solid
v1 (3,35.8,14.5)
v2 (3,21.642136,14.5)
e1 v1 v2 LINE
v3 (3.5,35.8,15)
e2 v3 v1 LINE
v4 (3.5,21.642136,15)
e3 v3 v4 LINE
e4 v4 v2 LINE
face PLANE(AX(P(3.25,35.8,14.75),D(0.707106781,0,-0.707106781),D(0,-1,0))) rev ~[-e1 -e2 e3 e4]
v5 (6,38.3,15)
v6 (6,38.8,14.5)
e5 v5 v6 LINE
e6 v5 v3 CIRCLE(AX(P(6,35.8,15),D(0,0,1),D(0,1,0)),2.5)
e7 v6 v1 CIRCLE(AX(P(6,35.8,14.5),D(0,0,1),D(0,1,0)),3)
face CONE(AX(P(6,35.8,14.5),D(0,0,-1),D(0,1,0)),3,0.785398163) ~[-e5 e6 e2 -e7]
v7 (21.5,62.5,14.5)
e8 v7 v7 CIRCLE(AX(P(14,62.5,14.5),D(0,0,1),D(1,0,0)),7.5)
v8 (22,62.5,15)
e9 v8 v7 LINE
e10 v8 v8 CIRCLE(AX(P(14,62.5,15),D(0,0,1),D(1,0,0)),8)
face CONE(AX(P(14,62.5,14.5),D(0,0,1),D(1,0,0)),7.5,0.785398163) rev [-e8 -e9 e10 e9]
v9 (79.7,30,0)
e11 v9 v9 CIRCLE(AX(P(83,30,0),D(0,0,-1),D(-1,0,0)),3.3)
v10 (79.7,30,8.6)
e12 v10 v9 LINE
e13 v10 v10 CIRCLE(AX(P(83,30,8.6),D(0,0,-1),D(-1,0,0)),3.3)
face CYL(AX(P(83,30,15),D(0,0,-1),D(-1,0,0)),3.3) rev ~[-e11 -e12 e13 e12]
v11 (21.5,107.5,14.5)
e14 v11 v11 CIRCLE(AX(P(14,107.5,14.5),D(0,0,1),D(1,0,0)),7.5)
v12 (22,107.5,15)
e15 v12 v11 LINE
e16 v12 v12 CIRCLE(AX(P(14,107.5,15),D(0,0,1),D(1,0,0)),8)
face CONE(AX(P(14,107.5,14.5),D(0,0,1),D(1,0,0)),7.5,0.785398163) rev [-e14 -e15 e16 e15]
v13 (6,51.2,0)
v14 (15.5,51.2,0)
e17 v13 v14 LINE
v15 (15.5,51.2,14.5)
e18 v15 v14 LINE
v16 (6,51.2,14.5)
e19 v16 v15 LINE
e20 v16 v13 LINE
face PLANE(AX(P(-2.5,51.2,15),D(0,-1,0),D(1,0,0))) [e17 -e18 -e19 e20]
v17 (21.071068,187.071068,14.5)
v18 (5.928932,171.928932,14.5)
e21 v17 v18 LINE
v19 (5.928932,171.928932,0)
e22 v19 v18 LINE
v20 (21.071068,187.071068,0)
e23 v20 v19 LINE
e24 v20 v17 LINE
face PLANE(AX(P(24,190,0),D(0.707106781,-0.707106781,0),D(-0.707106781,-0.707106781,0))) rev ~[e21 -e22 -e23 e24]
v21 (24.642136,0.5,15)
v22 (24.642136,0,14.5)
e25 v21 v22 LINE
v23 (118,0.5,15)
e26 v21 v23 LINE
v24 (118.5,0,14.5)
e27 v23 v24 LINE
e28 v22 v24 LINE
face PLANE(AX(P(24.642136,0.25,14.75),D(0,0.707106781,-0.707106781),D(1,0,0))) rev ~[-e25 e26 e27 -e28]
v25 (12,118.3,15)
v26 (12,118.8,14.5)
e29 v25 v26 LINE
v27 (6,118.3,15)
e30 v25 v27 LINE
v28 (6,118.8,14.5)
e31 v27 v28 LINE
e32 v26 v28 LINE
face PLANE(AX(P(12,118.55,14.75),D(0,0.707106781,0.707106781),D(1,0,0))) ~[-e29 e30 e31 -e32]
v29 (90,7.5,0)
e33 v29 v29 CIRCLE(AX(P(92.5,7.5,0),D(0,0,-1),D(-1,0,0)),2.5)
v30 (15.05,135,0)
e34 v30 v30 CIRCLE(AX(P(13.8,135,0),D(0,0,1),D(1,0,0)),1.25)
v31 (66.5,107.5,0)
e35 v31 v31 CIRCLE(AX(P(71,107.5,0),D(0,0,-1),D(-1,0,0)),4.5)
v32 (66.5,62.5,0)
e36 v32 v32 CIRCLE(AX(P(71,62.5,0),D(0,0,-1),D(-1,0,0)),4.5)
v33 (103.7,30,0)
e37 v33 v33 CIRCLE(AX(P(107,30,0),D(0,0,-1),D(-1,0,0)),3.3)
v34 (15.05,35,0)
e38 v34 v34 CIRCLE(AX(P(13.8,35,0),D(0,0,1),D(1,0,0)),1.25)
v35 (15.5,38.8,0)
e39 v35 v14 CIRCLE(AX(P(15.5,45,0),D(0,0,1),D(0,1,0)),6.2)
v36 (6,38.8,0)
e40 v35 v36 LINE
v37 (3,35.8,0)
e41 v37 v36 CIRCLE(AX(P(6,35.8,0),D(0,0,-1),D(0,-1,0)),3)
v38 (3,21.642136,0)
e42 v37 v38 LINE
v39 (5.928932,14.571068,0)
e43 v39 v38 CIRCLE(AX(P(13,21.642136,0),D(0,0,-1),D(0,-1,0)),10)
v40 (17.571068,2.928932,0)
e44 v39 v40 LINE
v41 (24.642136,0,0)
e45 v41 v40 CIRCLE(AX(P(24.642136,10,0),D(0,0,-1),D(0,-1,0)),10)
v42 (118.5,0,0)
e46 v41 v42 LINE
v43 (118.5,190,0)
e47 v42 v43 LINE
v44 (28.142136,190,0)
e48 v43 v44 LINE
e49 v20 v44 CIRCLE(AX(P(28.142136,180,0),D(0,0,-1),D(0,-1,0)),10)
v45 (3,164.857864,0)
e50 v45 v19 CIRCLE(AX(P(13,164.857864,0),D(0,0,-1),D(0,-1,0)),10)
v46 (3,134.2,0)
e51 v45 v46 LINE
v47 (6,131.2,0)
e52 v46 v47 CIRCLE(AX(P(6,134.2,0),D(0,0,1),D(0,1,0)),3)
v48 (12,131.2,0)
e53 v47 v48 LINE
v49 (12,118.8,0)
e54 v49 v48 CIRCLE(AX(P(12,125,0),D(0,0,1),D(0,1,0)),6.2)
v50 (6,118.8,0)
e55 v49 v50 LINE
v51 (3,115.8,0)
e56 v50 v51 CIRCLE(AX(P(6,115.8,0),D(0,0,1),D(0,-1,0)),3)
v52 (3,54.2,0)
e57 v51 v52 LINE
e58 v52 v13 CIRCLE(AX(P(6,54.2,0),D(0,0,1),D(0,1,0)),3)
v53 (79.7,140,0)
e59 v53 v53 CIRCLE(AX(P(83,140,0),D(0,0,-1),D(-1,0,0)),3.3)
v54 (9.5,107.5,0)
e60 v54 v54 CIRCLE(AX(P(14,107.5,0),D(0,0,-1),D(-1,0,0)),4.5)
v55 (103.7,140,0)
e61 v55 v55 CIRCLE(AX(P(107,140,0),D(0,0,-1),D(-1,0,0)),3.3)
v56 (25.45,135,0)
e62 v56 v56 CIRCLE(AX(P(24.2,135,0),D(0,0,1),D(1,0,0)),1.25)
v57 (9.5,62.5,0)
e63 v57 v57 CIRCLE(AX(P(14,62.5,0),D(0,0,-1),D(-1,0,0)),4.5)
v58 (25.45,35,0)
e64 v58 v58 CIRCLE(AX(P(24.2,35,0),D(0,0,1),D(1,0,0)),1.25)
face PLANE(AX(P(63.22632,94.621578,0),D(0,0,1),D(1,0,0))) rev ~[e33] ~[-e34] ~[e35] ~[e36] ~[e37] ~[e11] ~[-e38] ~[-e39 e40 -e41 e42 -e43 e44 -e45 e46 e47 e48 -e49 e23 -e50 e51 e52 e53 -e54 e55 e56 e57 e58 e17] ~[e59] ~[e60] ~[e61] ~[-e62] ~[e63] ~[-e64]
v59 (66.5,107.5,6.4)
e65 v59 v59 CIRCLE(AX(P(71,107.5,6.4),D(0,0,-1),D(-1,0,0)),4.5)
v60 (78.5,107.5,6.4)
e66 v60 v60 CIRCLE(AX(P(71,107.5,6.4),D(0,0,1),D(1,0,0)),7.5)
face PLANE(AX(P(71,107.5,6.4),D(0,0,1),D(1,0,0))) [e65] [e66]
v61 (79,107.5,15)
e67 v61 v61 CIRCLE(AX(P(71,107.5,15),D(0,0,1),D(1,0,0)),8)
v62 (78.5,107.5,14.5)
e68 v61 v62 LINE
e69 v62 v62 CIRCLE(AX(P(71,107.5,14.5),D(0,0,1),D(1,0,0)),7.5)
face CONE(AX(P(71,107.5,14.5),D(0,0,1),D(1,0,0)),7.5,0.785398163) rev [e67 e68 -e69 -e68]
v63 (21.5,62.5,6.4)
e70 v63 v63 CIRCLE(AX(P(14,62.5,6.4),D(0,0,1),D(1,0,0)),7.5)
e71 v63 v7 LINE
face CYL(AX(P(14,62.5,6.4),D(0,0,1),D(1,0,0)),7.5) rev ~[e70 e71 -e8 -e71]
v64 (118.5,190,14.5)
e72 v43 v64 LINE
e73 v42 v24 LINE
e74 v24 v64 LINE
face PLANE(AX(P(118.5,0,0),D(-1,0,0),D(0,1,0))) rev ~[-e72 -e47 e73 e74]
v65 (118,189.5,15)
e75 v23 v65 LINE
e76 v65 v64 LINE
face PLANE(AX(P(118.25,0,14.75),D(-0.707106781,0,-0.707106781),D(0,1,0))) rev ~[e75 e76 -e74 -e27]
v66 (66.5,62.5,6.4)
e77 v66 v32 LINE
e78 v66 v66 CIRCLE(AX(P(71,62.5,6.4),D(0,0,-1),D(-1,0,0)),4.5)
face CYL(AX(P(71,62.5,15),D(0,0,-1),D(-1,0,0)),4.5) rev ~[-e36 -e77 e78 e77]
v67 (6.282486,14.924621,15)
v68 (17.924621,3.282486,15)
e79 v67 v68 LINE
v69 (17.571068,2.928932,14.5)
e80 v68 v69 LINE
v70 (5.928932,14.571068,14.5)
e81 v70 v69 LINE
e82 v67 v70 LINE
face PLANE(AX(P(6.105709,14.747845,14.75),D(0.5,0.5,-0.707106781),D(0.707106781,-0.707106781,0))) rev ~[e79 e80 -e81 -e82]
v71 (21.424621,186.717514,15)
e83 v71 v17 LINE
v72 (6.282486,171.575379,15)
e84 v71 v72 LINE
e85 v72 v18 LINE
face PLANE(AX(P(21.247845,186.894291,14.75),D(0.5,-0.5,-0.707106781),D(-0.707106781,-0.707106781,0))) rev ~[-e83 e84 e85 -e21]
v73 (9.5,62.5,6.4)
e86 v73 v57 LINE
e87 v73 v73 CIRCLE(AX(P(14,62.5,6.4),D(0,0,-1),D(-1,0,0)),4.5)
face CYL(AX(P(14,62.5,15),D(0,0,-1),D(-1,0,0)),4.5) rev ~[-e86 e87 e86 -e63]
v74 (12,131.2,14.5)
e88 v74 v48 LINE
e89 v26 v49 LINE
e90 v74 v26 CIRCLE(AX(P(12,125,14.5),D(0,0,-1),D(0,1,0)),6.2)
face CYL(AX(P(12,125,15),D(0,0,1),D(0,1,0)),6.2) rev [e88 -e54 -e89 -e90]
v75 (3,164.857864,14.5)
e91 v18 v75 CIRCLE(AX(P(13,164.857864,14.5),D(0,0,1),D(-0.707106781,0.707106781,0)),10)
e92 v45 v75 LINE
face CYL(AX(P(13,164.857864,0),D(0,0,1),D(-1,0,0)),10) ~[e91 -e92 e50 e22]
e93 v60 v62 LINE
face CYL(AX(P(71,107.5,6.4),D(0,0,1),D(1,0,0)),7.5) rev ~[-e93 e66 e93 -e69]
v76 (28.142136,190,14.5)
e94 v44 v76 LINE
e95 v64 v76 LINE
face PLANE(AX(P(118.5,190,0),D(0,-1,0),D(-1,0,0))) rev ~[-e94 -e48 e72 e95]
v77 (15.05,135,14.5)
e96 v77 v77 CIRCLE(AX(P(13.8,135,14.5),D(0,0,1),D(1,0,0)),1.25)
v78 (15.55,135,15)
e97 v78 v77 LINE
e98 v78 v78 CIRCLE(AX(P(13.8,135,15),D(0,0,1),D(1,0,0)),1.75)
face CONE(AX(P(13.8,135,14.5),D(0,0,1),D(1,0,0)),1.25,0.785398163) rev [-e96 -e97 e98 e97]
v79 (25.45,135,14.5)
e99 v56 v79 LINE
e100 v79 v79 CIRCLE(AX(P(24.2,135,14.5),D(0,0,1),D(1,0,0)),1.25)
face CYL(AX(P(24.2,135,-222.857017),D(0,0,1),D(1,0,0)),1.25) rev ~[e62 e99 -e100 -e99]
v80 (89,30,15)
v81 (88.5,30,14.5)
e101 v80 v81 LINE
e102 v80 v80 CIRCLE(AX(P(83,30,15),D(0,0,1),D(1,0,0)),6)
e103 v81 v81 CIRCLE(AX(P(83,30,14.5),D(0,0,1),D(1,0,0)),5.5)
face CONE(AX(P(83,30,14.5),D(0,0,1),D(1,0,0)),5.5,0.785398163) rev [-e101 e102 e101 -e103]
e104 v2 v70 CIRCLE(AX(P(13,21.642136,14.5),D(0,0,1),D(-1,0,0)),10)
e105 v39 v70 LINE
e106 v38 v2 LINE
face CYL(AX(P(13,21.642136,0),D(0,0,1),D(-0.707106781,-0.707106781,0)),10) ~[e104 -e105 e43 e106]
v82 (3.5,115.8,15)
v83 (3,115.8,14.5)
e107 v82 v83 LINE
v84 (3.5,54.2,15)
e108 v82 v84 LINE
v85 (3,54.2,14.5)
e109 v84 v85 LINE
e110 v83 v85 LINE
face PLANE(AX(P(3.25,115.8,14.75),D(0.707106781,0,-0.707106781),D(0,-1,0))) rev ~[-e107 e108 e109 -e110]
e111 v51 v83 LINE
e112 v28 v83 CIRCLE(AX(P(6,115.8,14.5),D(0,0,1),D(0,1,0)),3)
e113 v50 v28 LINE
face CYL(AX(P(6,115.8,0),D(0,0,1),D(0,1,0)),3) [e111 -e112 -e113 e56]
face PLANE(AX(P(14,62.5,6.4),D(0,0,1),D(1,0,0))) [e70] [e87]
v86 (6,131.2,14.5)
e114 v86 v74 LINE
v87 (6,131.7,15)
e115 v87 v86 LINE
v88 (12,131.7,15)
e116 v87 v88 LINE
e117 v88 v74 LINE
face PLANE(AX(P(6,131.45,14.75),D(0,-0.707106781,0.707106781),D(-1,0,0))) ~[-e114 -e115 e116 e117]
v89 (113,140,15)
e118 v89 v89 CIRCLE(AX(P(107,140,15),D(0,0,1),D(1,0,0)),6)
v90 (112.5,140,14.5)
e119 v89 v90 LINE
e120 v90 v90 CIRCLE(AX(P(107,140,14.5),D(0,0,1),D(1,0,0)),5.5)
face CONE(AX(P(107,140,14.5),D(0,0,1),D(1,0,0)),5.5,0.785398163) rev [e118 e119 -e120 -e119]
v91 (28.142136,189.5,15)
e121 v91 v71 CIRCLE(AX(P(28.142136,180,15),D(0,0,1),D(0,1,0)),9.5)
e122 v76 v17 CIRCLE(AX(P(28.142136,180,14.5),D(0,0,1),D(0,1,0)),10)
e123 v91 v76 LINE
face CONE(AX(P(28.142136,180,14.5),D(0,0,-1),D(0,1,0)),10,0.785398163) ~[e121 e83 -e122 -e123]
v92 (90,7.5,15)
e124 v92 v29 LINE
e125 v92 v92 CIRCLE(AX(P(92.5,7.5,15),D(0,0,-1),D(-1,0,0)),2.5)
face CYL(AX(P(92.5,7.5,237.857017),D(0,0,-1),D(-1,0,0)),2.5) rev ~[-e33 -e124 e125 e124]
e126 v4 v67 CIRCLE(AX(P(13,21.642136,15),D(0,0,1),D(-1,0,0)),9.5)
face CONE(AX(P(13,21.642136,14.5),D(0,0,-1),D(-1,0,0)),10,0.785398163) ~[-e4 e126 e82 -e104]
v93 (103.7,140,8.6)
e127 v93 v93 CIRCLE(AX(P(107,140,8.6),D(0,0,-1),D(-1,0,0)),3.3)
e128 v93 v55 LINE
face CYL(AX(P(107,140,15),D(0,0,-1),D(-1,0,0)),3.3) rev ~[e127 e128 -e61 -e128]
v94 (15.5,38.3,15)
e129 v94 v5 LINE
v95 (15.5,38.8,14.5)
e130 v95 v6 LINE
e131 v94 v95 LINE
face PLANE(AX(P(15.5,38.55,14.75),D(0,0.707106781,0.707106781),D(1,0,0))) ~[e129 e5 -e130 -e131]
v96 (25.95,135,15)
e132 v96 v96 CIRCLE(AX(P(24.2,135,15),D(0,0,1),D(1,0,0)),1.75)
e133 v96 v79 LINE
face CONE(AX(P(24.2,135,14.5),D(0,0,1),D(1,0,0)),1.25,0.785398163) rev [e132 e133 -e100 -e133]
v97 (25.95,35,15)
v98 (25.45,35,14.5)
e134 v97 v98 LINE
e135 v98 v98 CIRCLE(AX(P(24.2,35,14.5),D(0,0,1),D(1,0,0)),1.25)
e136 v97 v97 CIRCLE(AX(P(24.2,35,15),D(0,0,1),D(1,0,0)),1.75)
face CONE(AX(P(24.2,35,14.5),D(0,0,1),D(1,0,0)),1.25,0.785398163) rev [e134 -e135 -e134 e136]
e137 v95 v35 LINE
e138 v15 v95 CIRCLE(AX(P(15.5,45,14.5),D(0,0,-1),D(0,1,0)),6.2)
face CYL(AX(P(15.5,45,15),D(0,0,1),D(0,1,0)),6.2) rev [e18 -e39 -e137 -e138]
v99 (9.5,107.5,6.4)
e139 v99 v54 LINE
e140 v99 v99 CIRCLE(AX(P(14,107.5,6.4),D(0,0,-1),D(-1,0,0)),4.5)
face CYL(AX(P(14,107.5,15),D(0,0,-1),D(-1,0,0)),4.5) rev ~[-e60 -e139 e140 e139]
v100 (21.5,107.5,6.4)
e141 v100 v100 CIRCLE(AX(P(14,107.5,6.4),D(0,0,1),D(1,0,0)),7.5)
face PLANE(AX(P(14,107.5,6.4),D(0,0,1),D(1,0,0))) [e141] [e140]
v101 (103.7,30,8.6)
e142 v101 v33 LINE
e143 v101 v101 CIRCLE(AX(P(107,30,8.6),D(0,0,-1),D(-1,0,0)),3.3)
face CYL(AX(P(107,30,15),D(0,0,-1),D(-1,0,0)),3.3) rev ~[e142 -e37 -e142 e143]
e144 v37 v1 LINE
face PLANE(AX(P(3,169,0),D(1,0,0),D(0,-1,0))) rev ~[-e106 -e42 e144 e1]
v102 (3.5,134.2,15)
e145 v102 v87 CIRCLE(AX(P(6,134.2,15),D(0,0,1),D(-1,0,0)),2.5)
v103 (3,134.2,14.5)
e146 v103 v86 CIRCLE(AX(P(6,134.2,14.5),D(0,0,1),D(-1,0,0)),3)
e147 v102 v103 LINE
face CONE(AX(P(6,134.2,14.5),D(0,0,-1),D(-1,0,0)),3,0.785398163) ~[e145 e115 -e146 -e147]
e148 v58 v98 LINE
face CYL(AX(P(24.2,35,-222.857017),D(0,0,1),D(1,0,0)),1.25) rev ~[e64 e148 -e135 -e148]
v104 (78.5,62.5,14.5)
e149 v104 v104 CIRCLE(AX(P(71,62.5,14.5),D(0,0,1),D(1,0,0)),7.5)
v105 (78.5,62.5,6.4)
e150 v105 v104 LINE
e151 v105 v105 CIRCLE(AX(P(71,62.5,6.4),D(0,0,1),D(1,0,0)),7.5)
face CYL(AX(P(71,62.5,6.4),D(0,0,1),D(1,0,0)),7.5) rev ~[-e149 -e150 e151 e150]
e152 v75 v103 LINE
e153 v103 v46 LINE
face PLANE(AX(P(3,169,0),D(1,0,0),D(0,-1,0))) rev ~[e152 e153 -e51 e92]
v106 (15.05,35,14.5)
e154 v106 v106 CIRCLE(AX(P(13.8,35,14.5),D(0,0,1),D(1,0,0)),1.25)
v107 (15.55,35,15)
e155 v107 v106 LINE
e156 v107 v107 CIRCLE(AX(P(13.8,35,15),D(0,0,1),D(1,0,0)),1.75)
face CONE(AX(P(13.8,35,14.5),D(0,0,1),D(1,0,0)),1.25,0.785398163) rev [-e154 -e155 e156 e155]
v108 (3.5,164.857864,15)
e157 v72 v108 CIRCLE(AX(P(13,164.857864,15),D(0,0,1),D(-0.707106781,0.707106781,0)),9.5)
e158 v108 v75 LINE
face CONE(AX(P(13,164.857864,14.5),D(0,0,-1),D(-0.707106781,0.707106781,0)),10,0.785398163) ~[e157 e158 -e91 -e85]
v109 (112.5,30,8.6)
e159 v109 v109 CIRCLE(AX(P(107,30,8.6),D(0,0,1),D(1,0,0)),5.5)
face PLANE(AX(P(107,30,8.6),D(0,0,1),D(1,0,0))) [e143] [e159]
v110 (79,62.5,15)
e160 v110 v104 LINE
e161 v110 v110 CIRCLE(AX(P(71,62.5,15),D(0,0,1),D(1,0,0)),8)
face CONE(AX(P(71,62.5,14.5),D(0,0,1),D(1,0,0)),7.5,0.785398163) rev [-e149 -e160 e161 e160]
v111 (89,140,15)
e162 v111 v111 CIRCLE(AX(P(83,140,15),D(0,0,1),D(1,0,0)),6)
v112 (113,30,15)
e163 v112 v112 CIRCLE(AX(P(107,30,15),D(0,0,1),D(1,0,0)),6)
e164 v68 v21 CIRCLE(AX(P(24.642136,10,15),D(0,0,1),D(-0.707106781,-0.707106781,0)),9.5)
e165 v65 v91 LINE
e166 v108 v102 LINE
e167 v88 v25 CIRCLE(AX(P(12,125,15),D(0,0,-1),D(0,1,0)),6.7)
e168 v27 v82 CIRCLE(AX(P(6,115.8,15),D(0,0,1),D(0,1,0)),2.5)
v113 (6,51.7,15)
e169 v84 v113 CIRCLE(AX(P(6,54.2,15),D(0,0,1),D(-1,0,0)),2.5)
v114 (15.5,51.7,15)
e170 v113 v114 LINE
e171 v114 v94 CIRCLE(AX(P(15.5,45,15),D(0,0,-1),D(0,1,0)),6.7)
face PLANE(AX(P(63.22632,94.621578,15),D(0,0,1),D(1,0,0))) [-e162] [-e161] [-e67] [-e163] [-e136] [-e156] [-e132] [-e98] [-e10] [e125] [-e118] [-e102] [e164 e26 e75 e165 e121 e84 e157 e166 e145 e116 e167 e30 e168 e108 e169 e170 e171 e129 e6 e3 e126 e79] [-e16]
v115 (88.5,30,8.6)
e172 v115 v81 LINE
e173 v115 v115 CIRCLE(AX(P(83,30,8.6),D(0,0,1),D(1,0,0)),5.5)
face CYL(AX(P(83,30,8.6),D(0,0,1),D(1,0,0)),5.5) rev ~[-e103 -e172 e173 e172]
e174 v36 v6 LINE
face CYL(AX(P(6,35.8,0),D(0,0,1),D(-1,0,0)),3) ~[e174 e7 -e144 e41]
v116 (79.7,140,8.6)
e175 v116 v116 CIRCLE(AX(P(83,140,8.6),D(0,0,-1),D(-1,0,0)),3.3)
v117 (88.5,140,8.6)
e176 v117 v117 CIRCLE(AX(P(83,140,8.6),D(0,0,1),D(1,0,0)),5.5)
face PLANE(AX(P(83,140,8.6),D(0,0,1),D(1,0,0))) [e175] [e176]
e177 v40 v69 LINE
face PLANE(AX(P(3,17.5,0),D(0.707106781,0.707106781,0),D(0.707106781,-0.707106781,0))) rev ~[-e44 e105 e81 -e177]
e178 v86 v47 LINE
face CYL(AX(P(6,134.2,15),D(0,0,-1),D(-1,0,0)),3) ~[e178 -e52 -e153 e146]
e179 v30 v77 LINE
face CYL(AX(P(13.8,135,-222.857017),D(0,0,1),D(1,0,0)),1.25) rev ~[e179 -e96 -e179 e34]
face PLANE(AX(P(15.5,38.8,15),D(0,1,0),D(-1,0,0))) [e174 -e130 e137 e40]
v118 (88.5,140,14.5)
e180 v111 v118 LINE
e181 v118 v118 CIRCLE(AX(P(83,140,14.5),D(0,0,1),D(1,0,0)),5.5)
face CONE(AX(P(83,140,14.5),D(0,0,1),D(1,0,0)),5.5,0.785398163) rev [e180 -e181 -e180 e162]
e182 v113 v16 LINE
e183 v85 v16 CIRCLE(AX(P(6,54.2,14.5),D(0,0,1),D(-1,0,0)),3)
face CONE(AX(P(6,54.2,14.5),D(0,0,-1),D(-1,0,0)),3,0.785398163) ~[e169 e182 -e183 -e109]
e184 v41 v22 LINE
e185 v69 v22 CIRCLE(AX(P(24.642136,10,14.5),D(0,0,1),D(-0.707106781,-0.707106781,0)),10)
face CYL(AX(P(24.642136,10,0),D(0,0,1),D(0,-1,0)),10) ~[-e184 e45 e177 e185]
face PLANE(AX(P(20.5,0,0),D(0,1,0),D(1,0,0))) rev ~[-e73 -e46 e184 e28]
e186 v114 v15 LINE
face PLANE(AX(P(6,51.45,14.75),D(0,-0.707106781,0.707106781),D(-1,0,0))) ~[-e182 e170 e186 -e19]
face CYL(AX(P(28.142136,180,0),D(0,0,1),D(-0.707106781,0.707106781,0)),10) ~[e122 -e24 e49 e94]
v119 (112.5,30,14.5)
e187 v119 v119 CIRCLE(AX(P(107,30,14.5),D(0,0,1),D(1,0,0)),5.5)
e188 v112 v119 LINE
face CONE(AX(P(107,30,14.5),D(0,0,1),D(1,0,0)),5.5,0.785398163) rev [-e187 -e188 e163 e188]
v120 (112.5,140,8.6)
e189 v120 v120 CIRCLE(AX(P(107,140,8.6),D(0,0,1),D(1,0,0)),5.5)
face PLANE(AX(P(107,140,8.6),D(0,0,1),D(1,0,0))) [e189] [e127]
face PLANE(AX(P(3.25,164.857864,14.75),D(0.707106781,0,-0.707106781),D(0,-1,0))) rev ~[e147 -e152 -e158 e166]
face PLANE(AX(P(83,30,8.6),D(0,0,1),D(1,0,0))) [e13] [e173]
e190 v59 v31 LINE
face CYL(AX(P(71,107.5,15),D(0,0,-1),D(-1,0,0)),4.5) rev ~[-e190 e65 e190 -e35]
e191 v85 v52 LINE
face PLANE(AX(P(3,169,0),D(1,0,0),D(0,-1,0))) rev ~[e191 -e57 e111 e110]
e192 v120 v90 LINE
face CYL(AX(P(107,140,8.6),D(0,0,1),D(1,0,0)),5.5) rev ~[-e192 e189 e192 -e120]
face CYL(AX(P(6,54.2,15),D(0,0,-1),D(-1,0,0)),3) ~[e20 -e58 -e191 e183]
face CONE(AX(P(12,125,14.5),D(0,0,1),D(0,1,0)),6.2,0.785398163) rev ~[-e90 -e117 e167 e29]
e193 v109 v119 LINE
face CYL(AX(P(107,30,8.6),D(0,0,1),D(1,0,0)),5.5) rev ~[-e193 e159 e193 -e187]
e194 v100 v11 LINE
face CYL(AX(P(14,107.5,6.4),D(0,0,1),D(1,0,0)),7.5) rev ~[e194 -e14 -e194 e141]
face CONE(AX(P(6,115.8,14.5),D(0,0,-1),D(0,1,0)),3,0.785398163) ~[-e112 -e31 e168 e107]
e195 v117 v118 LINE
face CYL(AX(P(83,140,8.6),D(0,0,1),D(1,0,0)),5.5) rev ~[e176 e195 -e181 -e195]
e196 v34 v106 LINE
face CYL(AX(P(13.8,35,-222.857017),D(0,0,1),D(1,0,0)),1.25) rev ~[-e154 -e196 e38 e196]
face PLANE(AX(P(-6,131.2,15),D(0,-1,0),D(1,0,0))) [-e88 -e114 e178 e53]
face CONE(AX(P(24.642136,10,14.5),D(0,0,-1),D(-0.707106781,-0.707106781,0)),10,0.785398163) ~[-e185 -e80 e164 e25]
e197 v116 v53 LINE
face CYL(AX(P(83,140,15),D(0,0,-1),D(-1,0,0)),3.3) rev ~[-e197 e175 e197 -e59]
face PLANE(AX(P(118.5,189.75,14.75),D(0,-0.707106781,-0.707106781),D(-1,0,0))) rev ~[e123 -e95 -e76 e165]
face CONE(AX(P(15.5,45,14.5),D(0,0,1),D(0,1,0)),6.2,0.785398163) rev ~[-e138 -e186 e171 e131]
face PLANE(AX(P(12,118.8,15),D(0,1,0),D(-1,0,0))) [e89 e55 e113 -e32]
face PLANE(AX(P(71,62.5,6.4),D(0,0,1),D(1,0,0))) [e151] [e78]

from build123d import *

# Parameters (mm, degrees)
BOSS_EXTRU_1_DEPTH                                  = 15
CBORE_FOR_M6_HEX_SOCKET_HEAD_CAP_SCREW1_D           = 6.6
CBORE_FOR_M6_HEX_SOCKET_HEAD_CAP_SCREW1_CBORE_D     = 11
CBORE_FOR_M6_HEX_SOCKET_HEAD_CAP_SCREW1_CBORE_DEPTH = 6.4
CBORE_FOR_M8_HEX_SOCKET_HEAD_CAP_SCREW1_D           = 9
CBORE_FOR_M8_HEX_SOCKET_HEAD_CAP_SCREW1_CBORE_D     = 15
CBORE_FOR_M8_HEX_SOCKET_HEAD_CAP_SCREW1_CBORE_DEPTH = 8.6
TAP_DRILL_FOR_M6_TAP1_D                             = 5
TAP_DRILL_FOR_M3_TAP1_D                             = 2.5
CUT_EXTRUDE1_DEPTH                                  = 16
FILLET3_R                                           = 10
FILLET4_R                                           = 3
CHAMFER1_SIZE                                       = 0.5


with BuildPart() as part:
    # Esquisse1 → Boss.-Extru.1 (new body)
    with BuildSketch(Plane.XY):
        Polygon((3, 169), (3, 17.5), (20.5, 0), (68.5, 0), (118.5, 0), (118.5, 190), (68.5, 190), (24, 190), align=None)
    extrude(amount=BOSS_EXTRU_1_DEPTH)

    # CBORE for M6 Hex Socket Head Cap Screw1 (through all)
    with Locations(Plane.XY.offset(15)):
        with Locations((83, 30), (107, 140), (107, 30), (83, 140)):
            CounterBoreHole(CBORE_FOR_M6_HEX_SOCKET_HEAD_CAP_SCREW1_D / 2, CBORE_FOR_M6_HEX_SOCKET_HEAD_CAP_SCREW1_CBORE_D / 2, CBORE_FOR_M6_HEX_SOCKET_HEAD_CAP_SCREW1_CBORE_DEPTH)

    # CBORE for M8 Hex Socket Head Cap Screw1 (through all)
    with Locations(Plane.XY.offset(15)):
        with Locations((71, 107.5), (71, 62.5), (14, 62.5), (14, 107.5)):
            CounterBoreHole(CBORE_FOR_M8_HEX_SOCKET_HEAD_CAP_SCREW1_D / 2, CBORE_FOR_M8_HEX_SOCKET_HEAD_CAP_SCREW1_CBORE_D / 2, CBORE_FOR_M8_HEX_SOCKET_HEAD_CAP_SCREW1_CBORE_DEPTH)

    # Tap Drill for M6 Tap1 (through all)
    with Locations(Plane.XY.offset(15)):
        with Locations((92.5, 7.5)):
            Hole(TAP_DRILL_FOR_M6_TAP1_D / 2)

    # Tap Drill for M3 Tap1 (through all)
    with Locations(Plane(origin=(0, 0, 0), x_dir=(-1, 0, 0), z_dir=(0, 0, -1))):
        with Locations((-24.2, 35), (-13.8, 35), (-24.2, 135), (-13.8, 135)):
            Hole(TAP_DRILL_FOR_M3_TAP1_D / 2)

    # Sketch17 → Cut-Extrude1 (cut, through all)
    with BuildSketch(Plane.XY.offset(15)):
        with BuildLine():
            Line((12, 118.8), (-6, 118.8))
            ThreePointArc((-6, 118.8), (-12.2, 125), (-6, 131.2))
            Line((-6, 131.2), (12, 131.2))
            ThreePointArc((12, 131.2), (18.2, 125), (12, 118.8))
        make_face()
        with BuildLine():
            Line((15.5, 38.8), (-2.5, 38.8))
            ThreePointArc((-2.5, 38.8), (-8.7, 45), (-2.5, 51.2))
            Line((-2.5, 51.2), (15.5, 51.2))
            ThreePointArc((15.5, 51.2), (21.7, 45), (15.5, 38.8))
        make_face()
    extrude(amount=-CUT_EXTRUDE1_DEPTH, mode=Mode.SUBTRACT)

    # Fillet3
    fillet3_edges = [part.edges().sort_by_distance(p)[0] for p in [
        (20.5, 0, 7.5),
        (3, 17.5, 7.5),
        (3, 169, 7.5),
        (24, 190, 7.5),
    ]]
    fillet(fillet3_edges, radius=FILLET3_R)

    # Fillet4
    fillet4_edges = [part.edges().sort_by_distance(p)[0] for p in [
        (3, 118.8, 7.5),
        (3, 131.2, 7.5),
        (3, 38.8, 7.5),
        (3, 51.2, 7.5),
    ]]
    fillet(fillet4_edges, radius=FILLET4_R)

    # Chamfer1
    chamfer1_edges = [part.edges().sort_by_distance(p)[0] for p in [
        (22.95, 35, 15),
        (10.75, 38.8, 15),
        (9, 118.8, 15),
        (9, 131.2, 15),
        (18.2, 125, 15),
        (10.75, 51.2, 15),
        (21.7, 45, 15),
        (3, 149.528932188, 15),
        (13.5, 179.5, 15),
        (11.75, 8.75, 15),
        (71.571067812, 0, 15),
        (20.8153013, 0.761204675, 15),
        (24.3153013, 189.238795325, 15),
        (3.761204675, 17.8153013, 15),
        (3.761204675, 168.6846987, 15),
        (3, 85, 15),
        (3, 28.721067812, 15),
        (3.878679656, 37.921320344, 15),
        (3.878679656, 52.078679656, 15),
        (3.878679656, 132.078679656, 15),
        (3.878679656, 117.921320344, 15),
        (118.5, 95, 15),
        (77.5, 140, 15),
        (101.5, 30, 15),
        (101.5, 140, 15),
        (73.321067812, 190, 15),
        (77.5, 30, 15),
        (6.5, 107.5, 15),
        (6.5, 62.5, 15),
        (63.5, 62.5, 15),
        (63.5, 107.5, 15),
        (12.55, 135, 15),
        (22.95, 135, 15),
        (12.55, 35, 15),
    ]]
    chamfer(chamfer1_edges, length=CHAMFER1_SIZE)


solid = part.part
